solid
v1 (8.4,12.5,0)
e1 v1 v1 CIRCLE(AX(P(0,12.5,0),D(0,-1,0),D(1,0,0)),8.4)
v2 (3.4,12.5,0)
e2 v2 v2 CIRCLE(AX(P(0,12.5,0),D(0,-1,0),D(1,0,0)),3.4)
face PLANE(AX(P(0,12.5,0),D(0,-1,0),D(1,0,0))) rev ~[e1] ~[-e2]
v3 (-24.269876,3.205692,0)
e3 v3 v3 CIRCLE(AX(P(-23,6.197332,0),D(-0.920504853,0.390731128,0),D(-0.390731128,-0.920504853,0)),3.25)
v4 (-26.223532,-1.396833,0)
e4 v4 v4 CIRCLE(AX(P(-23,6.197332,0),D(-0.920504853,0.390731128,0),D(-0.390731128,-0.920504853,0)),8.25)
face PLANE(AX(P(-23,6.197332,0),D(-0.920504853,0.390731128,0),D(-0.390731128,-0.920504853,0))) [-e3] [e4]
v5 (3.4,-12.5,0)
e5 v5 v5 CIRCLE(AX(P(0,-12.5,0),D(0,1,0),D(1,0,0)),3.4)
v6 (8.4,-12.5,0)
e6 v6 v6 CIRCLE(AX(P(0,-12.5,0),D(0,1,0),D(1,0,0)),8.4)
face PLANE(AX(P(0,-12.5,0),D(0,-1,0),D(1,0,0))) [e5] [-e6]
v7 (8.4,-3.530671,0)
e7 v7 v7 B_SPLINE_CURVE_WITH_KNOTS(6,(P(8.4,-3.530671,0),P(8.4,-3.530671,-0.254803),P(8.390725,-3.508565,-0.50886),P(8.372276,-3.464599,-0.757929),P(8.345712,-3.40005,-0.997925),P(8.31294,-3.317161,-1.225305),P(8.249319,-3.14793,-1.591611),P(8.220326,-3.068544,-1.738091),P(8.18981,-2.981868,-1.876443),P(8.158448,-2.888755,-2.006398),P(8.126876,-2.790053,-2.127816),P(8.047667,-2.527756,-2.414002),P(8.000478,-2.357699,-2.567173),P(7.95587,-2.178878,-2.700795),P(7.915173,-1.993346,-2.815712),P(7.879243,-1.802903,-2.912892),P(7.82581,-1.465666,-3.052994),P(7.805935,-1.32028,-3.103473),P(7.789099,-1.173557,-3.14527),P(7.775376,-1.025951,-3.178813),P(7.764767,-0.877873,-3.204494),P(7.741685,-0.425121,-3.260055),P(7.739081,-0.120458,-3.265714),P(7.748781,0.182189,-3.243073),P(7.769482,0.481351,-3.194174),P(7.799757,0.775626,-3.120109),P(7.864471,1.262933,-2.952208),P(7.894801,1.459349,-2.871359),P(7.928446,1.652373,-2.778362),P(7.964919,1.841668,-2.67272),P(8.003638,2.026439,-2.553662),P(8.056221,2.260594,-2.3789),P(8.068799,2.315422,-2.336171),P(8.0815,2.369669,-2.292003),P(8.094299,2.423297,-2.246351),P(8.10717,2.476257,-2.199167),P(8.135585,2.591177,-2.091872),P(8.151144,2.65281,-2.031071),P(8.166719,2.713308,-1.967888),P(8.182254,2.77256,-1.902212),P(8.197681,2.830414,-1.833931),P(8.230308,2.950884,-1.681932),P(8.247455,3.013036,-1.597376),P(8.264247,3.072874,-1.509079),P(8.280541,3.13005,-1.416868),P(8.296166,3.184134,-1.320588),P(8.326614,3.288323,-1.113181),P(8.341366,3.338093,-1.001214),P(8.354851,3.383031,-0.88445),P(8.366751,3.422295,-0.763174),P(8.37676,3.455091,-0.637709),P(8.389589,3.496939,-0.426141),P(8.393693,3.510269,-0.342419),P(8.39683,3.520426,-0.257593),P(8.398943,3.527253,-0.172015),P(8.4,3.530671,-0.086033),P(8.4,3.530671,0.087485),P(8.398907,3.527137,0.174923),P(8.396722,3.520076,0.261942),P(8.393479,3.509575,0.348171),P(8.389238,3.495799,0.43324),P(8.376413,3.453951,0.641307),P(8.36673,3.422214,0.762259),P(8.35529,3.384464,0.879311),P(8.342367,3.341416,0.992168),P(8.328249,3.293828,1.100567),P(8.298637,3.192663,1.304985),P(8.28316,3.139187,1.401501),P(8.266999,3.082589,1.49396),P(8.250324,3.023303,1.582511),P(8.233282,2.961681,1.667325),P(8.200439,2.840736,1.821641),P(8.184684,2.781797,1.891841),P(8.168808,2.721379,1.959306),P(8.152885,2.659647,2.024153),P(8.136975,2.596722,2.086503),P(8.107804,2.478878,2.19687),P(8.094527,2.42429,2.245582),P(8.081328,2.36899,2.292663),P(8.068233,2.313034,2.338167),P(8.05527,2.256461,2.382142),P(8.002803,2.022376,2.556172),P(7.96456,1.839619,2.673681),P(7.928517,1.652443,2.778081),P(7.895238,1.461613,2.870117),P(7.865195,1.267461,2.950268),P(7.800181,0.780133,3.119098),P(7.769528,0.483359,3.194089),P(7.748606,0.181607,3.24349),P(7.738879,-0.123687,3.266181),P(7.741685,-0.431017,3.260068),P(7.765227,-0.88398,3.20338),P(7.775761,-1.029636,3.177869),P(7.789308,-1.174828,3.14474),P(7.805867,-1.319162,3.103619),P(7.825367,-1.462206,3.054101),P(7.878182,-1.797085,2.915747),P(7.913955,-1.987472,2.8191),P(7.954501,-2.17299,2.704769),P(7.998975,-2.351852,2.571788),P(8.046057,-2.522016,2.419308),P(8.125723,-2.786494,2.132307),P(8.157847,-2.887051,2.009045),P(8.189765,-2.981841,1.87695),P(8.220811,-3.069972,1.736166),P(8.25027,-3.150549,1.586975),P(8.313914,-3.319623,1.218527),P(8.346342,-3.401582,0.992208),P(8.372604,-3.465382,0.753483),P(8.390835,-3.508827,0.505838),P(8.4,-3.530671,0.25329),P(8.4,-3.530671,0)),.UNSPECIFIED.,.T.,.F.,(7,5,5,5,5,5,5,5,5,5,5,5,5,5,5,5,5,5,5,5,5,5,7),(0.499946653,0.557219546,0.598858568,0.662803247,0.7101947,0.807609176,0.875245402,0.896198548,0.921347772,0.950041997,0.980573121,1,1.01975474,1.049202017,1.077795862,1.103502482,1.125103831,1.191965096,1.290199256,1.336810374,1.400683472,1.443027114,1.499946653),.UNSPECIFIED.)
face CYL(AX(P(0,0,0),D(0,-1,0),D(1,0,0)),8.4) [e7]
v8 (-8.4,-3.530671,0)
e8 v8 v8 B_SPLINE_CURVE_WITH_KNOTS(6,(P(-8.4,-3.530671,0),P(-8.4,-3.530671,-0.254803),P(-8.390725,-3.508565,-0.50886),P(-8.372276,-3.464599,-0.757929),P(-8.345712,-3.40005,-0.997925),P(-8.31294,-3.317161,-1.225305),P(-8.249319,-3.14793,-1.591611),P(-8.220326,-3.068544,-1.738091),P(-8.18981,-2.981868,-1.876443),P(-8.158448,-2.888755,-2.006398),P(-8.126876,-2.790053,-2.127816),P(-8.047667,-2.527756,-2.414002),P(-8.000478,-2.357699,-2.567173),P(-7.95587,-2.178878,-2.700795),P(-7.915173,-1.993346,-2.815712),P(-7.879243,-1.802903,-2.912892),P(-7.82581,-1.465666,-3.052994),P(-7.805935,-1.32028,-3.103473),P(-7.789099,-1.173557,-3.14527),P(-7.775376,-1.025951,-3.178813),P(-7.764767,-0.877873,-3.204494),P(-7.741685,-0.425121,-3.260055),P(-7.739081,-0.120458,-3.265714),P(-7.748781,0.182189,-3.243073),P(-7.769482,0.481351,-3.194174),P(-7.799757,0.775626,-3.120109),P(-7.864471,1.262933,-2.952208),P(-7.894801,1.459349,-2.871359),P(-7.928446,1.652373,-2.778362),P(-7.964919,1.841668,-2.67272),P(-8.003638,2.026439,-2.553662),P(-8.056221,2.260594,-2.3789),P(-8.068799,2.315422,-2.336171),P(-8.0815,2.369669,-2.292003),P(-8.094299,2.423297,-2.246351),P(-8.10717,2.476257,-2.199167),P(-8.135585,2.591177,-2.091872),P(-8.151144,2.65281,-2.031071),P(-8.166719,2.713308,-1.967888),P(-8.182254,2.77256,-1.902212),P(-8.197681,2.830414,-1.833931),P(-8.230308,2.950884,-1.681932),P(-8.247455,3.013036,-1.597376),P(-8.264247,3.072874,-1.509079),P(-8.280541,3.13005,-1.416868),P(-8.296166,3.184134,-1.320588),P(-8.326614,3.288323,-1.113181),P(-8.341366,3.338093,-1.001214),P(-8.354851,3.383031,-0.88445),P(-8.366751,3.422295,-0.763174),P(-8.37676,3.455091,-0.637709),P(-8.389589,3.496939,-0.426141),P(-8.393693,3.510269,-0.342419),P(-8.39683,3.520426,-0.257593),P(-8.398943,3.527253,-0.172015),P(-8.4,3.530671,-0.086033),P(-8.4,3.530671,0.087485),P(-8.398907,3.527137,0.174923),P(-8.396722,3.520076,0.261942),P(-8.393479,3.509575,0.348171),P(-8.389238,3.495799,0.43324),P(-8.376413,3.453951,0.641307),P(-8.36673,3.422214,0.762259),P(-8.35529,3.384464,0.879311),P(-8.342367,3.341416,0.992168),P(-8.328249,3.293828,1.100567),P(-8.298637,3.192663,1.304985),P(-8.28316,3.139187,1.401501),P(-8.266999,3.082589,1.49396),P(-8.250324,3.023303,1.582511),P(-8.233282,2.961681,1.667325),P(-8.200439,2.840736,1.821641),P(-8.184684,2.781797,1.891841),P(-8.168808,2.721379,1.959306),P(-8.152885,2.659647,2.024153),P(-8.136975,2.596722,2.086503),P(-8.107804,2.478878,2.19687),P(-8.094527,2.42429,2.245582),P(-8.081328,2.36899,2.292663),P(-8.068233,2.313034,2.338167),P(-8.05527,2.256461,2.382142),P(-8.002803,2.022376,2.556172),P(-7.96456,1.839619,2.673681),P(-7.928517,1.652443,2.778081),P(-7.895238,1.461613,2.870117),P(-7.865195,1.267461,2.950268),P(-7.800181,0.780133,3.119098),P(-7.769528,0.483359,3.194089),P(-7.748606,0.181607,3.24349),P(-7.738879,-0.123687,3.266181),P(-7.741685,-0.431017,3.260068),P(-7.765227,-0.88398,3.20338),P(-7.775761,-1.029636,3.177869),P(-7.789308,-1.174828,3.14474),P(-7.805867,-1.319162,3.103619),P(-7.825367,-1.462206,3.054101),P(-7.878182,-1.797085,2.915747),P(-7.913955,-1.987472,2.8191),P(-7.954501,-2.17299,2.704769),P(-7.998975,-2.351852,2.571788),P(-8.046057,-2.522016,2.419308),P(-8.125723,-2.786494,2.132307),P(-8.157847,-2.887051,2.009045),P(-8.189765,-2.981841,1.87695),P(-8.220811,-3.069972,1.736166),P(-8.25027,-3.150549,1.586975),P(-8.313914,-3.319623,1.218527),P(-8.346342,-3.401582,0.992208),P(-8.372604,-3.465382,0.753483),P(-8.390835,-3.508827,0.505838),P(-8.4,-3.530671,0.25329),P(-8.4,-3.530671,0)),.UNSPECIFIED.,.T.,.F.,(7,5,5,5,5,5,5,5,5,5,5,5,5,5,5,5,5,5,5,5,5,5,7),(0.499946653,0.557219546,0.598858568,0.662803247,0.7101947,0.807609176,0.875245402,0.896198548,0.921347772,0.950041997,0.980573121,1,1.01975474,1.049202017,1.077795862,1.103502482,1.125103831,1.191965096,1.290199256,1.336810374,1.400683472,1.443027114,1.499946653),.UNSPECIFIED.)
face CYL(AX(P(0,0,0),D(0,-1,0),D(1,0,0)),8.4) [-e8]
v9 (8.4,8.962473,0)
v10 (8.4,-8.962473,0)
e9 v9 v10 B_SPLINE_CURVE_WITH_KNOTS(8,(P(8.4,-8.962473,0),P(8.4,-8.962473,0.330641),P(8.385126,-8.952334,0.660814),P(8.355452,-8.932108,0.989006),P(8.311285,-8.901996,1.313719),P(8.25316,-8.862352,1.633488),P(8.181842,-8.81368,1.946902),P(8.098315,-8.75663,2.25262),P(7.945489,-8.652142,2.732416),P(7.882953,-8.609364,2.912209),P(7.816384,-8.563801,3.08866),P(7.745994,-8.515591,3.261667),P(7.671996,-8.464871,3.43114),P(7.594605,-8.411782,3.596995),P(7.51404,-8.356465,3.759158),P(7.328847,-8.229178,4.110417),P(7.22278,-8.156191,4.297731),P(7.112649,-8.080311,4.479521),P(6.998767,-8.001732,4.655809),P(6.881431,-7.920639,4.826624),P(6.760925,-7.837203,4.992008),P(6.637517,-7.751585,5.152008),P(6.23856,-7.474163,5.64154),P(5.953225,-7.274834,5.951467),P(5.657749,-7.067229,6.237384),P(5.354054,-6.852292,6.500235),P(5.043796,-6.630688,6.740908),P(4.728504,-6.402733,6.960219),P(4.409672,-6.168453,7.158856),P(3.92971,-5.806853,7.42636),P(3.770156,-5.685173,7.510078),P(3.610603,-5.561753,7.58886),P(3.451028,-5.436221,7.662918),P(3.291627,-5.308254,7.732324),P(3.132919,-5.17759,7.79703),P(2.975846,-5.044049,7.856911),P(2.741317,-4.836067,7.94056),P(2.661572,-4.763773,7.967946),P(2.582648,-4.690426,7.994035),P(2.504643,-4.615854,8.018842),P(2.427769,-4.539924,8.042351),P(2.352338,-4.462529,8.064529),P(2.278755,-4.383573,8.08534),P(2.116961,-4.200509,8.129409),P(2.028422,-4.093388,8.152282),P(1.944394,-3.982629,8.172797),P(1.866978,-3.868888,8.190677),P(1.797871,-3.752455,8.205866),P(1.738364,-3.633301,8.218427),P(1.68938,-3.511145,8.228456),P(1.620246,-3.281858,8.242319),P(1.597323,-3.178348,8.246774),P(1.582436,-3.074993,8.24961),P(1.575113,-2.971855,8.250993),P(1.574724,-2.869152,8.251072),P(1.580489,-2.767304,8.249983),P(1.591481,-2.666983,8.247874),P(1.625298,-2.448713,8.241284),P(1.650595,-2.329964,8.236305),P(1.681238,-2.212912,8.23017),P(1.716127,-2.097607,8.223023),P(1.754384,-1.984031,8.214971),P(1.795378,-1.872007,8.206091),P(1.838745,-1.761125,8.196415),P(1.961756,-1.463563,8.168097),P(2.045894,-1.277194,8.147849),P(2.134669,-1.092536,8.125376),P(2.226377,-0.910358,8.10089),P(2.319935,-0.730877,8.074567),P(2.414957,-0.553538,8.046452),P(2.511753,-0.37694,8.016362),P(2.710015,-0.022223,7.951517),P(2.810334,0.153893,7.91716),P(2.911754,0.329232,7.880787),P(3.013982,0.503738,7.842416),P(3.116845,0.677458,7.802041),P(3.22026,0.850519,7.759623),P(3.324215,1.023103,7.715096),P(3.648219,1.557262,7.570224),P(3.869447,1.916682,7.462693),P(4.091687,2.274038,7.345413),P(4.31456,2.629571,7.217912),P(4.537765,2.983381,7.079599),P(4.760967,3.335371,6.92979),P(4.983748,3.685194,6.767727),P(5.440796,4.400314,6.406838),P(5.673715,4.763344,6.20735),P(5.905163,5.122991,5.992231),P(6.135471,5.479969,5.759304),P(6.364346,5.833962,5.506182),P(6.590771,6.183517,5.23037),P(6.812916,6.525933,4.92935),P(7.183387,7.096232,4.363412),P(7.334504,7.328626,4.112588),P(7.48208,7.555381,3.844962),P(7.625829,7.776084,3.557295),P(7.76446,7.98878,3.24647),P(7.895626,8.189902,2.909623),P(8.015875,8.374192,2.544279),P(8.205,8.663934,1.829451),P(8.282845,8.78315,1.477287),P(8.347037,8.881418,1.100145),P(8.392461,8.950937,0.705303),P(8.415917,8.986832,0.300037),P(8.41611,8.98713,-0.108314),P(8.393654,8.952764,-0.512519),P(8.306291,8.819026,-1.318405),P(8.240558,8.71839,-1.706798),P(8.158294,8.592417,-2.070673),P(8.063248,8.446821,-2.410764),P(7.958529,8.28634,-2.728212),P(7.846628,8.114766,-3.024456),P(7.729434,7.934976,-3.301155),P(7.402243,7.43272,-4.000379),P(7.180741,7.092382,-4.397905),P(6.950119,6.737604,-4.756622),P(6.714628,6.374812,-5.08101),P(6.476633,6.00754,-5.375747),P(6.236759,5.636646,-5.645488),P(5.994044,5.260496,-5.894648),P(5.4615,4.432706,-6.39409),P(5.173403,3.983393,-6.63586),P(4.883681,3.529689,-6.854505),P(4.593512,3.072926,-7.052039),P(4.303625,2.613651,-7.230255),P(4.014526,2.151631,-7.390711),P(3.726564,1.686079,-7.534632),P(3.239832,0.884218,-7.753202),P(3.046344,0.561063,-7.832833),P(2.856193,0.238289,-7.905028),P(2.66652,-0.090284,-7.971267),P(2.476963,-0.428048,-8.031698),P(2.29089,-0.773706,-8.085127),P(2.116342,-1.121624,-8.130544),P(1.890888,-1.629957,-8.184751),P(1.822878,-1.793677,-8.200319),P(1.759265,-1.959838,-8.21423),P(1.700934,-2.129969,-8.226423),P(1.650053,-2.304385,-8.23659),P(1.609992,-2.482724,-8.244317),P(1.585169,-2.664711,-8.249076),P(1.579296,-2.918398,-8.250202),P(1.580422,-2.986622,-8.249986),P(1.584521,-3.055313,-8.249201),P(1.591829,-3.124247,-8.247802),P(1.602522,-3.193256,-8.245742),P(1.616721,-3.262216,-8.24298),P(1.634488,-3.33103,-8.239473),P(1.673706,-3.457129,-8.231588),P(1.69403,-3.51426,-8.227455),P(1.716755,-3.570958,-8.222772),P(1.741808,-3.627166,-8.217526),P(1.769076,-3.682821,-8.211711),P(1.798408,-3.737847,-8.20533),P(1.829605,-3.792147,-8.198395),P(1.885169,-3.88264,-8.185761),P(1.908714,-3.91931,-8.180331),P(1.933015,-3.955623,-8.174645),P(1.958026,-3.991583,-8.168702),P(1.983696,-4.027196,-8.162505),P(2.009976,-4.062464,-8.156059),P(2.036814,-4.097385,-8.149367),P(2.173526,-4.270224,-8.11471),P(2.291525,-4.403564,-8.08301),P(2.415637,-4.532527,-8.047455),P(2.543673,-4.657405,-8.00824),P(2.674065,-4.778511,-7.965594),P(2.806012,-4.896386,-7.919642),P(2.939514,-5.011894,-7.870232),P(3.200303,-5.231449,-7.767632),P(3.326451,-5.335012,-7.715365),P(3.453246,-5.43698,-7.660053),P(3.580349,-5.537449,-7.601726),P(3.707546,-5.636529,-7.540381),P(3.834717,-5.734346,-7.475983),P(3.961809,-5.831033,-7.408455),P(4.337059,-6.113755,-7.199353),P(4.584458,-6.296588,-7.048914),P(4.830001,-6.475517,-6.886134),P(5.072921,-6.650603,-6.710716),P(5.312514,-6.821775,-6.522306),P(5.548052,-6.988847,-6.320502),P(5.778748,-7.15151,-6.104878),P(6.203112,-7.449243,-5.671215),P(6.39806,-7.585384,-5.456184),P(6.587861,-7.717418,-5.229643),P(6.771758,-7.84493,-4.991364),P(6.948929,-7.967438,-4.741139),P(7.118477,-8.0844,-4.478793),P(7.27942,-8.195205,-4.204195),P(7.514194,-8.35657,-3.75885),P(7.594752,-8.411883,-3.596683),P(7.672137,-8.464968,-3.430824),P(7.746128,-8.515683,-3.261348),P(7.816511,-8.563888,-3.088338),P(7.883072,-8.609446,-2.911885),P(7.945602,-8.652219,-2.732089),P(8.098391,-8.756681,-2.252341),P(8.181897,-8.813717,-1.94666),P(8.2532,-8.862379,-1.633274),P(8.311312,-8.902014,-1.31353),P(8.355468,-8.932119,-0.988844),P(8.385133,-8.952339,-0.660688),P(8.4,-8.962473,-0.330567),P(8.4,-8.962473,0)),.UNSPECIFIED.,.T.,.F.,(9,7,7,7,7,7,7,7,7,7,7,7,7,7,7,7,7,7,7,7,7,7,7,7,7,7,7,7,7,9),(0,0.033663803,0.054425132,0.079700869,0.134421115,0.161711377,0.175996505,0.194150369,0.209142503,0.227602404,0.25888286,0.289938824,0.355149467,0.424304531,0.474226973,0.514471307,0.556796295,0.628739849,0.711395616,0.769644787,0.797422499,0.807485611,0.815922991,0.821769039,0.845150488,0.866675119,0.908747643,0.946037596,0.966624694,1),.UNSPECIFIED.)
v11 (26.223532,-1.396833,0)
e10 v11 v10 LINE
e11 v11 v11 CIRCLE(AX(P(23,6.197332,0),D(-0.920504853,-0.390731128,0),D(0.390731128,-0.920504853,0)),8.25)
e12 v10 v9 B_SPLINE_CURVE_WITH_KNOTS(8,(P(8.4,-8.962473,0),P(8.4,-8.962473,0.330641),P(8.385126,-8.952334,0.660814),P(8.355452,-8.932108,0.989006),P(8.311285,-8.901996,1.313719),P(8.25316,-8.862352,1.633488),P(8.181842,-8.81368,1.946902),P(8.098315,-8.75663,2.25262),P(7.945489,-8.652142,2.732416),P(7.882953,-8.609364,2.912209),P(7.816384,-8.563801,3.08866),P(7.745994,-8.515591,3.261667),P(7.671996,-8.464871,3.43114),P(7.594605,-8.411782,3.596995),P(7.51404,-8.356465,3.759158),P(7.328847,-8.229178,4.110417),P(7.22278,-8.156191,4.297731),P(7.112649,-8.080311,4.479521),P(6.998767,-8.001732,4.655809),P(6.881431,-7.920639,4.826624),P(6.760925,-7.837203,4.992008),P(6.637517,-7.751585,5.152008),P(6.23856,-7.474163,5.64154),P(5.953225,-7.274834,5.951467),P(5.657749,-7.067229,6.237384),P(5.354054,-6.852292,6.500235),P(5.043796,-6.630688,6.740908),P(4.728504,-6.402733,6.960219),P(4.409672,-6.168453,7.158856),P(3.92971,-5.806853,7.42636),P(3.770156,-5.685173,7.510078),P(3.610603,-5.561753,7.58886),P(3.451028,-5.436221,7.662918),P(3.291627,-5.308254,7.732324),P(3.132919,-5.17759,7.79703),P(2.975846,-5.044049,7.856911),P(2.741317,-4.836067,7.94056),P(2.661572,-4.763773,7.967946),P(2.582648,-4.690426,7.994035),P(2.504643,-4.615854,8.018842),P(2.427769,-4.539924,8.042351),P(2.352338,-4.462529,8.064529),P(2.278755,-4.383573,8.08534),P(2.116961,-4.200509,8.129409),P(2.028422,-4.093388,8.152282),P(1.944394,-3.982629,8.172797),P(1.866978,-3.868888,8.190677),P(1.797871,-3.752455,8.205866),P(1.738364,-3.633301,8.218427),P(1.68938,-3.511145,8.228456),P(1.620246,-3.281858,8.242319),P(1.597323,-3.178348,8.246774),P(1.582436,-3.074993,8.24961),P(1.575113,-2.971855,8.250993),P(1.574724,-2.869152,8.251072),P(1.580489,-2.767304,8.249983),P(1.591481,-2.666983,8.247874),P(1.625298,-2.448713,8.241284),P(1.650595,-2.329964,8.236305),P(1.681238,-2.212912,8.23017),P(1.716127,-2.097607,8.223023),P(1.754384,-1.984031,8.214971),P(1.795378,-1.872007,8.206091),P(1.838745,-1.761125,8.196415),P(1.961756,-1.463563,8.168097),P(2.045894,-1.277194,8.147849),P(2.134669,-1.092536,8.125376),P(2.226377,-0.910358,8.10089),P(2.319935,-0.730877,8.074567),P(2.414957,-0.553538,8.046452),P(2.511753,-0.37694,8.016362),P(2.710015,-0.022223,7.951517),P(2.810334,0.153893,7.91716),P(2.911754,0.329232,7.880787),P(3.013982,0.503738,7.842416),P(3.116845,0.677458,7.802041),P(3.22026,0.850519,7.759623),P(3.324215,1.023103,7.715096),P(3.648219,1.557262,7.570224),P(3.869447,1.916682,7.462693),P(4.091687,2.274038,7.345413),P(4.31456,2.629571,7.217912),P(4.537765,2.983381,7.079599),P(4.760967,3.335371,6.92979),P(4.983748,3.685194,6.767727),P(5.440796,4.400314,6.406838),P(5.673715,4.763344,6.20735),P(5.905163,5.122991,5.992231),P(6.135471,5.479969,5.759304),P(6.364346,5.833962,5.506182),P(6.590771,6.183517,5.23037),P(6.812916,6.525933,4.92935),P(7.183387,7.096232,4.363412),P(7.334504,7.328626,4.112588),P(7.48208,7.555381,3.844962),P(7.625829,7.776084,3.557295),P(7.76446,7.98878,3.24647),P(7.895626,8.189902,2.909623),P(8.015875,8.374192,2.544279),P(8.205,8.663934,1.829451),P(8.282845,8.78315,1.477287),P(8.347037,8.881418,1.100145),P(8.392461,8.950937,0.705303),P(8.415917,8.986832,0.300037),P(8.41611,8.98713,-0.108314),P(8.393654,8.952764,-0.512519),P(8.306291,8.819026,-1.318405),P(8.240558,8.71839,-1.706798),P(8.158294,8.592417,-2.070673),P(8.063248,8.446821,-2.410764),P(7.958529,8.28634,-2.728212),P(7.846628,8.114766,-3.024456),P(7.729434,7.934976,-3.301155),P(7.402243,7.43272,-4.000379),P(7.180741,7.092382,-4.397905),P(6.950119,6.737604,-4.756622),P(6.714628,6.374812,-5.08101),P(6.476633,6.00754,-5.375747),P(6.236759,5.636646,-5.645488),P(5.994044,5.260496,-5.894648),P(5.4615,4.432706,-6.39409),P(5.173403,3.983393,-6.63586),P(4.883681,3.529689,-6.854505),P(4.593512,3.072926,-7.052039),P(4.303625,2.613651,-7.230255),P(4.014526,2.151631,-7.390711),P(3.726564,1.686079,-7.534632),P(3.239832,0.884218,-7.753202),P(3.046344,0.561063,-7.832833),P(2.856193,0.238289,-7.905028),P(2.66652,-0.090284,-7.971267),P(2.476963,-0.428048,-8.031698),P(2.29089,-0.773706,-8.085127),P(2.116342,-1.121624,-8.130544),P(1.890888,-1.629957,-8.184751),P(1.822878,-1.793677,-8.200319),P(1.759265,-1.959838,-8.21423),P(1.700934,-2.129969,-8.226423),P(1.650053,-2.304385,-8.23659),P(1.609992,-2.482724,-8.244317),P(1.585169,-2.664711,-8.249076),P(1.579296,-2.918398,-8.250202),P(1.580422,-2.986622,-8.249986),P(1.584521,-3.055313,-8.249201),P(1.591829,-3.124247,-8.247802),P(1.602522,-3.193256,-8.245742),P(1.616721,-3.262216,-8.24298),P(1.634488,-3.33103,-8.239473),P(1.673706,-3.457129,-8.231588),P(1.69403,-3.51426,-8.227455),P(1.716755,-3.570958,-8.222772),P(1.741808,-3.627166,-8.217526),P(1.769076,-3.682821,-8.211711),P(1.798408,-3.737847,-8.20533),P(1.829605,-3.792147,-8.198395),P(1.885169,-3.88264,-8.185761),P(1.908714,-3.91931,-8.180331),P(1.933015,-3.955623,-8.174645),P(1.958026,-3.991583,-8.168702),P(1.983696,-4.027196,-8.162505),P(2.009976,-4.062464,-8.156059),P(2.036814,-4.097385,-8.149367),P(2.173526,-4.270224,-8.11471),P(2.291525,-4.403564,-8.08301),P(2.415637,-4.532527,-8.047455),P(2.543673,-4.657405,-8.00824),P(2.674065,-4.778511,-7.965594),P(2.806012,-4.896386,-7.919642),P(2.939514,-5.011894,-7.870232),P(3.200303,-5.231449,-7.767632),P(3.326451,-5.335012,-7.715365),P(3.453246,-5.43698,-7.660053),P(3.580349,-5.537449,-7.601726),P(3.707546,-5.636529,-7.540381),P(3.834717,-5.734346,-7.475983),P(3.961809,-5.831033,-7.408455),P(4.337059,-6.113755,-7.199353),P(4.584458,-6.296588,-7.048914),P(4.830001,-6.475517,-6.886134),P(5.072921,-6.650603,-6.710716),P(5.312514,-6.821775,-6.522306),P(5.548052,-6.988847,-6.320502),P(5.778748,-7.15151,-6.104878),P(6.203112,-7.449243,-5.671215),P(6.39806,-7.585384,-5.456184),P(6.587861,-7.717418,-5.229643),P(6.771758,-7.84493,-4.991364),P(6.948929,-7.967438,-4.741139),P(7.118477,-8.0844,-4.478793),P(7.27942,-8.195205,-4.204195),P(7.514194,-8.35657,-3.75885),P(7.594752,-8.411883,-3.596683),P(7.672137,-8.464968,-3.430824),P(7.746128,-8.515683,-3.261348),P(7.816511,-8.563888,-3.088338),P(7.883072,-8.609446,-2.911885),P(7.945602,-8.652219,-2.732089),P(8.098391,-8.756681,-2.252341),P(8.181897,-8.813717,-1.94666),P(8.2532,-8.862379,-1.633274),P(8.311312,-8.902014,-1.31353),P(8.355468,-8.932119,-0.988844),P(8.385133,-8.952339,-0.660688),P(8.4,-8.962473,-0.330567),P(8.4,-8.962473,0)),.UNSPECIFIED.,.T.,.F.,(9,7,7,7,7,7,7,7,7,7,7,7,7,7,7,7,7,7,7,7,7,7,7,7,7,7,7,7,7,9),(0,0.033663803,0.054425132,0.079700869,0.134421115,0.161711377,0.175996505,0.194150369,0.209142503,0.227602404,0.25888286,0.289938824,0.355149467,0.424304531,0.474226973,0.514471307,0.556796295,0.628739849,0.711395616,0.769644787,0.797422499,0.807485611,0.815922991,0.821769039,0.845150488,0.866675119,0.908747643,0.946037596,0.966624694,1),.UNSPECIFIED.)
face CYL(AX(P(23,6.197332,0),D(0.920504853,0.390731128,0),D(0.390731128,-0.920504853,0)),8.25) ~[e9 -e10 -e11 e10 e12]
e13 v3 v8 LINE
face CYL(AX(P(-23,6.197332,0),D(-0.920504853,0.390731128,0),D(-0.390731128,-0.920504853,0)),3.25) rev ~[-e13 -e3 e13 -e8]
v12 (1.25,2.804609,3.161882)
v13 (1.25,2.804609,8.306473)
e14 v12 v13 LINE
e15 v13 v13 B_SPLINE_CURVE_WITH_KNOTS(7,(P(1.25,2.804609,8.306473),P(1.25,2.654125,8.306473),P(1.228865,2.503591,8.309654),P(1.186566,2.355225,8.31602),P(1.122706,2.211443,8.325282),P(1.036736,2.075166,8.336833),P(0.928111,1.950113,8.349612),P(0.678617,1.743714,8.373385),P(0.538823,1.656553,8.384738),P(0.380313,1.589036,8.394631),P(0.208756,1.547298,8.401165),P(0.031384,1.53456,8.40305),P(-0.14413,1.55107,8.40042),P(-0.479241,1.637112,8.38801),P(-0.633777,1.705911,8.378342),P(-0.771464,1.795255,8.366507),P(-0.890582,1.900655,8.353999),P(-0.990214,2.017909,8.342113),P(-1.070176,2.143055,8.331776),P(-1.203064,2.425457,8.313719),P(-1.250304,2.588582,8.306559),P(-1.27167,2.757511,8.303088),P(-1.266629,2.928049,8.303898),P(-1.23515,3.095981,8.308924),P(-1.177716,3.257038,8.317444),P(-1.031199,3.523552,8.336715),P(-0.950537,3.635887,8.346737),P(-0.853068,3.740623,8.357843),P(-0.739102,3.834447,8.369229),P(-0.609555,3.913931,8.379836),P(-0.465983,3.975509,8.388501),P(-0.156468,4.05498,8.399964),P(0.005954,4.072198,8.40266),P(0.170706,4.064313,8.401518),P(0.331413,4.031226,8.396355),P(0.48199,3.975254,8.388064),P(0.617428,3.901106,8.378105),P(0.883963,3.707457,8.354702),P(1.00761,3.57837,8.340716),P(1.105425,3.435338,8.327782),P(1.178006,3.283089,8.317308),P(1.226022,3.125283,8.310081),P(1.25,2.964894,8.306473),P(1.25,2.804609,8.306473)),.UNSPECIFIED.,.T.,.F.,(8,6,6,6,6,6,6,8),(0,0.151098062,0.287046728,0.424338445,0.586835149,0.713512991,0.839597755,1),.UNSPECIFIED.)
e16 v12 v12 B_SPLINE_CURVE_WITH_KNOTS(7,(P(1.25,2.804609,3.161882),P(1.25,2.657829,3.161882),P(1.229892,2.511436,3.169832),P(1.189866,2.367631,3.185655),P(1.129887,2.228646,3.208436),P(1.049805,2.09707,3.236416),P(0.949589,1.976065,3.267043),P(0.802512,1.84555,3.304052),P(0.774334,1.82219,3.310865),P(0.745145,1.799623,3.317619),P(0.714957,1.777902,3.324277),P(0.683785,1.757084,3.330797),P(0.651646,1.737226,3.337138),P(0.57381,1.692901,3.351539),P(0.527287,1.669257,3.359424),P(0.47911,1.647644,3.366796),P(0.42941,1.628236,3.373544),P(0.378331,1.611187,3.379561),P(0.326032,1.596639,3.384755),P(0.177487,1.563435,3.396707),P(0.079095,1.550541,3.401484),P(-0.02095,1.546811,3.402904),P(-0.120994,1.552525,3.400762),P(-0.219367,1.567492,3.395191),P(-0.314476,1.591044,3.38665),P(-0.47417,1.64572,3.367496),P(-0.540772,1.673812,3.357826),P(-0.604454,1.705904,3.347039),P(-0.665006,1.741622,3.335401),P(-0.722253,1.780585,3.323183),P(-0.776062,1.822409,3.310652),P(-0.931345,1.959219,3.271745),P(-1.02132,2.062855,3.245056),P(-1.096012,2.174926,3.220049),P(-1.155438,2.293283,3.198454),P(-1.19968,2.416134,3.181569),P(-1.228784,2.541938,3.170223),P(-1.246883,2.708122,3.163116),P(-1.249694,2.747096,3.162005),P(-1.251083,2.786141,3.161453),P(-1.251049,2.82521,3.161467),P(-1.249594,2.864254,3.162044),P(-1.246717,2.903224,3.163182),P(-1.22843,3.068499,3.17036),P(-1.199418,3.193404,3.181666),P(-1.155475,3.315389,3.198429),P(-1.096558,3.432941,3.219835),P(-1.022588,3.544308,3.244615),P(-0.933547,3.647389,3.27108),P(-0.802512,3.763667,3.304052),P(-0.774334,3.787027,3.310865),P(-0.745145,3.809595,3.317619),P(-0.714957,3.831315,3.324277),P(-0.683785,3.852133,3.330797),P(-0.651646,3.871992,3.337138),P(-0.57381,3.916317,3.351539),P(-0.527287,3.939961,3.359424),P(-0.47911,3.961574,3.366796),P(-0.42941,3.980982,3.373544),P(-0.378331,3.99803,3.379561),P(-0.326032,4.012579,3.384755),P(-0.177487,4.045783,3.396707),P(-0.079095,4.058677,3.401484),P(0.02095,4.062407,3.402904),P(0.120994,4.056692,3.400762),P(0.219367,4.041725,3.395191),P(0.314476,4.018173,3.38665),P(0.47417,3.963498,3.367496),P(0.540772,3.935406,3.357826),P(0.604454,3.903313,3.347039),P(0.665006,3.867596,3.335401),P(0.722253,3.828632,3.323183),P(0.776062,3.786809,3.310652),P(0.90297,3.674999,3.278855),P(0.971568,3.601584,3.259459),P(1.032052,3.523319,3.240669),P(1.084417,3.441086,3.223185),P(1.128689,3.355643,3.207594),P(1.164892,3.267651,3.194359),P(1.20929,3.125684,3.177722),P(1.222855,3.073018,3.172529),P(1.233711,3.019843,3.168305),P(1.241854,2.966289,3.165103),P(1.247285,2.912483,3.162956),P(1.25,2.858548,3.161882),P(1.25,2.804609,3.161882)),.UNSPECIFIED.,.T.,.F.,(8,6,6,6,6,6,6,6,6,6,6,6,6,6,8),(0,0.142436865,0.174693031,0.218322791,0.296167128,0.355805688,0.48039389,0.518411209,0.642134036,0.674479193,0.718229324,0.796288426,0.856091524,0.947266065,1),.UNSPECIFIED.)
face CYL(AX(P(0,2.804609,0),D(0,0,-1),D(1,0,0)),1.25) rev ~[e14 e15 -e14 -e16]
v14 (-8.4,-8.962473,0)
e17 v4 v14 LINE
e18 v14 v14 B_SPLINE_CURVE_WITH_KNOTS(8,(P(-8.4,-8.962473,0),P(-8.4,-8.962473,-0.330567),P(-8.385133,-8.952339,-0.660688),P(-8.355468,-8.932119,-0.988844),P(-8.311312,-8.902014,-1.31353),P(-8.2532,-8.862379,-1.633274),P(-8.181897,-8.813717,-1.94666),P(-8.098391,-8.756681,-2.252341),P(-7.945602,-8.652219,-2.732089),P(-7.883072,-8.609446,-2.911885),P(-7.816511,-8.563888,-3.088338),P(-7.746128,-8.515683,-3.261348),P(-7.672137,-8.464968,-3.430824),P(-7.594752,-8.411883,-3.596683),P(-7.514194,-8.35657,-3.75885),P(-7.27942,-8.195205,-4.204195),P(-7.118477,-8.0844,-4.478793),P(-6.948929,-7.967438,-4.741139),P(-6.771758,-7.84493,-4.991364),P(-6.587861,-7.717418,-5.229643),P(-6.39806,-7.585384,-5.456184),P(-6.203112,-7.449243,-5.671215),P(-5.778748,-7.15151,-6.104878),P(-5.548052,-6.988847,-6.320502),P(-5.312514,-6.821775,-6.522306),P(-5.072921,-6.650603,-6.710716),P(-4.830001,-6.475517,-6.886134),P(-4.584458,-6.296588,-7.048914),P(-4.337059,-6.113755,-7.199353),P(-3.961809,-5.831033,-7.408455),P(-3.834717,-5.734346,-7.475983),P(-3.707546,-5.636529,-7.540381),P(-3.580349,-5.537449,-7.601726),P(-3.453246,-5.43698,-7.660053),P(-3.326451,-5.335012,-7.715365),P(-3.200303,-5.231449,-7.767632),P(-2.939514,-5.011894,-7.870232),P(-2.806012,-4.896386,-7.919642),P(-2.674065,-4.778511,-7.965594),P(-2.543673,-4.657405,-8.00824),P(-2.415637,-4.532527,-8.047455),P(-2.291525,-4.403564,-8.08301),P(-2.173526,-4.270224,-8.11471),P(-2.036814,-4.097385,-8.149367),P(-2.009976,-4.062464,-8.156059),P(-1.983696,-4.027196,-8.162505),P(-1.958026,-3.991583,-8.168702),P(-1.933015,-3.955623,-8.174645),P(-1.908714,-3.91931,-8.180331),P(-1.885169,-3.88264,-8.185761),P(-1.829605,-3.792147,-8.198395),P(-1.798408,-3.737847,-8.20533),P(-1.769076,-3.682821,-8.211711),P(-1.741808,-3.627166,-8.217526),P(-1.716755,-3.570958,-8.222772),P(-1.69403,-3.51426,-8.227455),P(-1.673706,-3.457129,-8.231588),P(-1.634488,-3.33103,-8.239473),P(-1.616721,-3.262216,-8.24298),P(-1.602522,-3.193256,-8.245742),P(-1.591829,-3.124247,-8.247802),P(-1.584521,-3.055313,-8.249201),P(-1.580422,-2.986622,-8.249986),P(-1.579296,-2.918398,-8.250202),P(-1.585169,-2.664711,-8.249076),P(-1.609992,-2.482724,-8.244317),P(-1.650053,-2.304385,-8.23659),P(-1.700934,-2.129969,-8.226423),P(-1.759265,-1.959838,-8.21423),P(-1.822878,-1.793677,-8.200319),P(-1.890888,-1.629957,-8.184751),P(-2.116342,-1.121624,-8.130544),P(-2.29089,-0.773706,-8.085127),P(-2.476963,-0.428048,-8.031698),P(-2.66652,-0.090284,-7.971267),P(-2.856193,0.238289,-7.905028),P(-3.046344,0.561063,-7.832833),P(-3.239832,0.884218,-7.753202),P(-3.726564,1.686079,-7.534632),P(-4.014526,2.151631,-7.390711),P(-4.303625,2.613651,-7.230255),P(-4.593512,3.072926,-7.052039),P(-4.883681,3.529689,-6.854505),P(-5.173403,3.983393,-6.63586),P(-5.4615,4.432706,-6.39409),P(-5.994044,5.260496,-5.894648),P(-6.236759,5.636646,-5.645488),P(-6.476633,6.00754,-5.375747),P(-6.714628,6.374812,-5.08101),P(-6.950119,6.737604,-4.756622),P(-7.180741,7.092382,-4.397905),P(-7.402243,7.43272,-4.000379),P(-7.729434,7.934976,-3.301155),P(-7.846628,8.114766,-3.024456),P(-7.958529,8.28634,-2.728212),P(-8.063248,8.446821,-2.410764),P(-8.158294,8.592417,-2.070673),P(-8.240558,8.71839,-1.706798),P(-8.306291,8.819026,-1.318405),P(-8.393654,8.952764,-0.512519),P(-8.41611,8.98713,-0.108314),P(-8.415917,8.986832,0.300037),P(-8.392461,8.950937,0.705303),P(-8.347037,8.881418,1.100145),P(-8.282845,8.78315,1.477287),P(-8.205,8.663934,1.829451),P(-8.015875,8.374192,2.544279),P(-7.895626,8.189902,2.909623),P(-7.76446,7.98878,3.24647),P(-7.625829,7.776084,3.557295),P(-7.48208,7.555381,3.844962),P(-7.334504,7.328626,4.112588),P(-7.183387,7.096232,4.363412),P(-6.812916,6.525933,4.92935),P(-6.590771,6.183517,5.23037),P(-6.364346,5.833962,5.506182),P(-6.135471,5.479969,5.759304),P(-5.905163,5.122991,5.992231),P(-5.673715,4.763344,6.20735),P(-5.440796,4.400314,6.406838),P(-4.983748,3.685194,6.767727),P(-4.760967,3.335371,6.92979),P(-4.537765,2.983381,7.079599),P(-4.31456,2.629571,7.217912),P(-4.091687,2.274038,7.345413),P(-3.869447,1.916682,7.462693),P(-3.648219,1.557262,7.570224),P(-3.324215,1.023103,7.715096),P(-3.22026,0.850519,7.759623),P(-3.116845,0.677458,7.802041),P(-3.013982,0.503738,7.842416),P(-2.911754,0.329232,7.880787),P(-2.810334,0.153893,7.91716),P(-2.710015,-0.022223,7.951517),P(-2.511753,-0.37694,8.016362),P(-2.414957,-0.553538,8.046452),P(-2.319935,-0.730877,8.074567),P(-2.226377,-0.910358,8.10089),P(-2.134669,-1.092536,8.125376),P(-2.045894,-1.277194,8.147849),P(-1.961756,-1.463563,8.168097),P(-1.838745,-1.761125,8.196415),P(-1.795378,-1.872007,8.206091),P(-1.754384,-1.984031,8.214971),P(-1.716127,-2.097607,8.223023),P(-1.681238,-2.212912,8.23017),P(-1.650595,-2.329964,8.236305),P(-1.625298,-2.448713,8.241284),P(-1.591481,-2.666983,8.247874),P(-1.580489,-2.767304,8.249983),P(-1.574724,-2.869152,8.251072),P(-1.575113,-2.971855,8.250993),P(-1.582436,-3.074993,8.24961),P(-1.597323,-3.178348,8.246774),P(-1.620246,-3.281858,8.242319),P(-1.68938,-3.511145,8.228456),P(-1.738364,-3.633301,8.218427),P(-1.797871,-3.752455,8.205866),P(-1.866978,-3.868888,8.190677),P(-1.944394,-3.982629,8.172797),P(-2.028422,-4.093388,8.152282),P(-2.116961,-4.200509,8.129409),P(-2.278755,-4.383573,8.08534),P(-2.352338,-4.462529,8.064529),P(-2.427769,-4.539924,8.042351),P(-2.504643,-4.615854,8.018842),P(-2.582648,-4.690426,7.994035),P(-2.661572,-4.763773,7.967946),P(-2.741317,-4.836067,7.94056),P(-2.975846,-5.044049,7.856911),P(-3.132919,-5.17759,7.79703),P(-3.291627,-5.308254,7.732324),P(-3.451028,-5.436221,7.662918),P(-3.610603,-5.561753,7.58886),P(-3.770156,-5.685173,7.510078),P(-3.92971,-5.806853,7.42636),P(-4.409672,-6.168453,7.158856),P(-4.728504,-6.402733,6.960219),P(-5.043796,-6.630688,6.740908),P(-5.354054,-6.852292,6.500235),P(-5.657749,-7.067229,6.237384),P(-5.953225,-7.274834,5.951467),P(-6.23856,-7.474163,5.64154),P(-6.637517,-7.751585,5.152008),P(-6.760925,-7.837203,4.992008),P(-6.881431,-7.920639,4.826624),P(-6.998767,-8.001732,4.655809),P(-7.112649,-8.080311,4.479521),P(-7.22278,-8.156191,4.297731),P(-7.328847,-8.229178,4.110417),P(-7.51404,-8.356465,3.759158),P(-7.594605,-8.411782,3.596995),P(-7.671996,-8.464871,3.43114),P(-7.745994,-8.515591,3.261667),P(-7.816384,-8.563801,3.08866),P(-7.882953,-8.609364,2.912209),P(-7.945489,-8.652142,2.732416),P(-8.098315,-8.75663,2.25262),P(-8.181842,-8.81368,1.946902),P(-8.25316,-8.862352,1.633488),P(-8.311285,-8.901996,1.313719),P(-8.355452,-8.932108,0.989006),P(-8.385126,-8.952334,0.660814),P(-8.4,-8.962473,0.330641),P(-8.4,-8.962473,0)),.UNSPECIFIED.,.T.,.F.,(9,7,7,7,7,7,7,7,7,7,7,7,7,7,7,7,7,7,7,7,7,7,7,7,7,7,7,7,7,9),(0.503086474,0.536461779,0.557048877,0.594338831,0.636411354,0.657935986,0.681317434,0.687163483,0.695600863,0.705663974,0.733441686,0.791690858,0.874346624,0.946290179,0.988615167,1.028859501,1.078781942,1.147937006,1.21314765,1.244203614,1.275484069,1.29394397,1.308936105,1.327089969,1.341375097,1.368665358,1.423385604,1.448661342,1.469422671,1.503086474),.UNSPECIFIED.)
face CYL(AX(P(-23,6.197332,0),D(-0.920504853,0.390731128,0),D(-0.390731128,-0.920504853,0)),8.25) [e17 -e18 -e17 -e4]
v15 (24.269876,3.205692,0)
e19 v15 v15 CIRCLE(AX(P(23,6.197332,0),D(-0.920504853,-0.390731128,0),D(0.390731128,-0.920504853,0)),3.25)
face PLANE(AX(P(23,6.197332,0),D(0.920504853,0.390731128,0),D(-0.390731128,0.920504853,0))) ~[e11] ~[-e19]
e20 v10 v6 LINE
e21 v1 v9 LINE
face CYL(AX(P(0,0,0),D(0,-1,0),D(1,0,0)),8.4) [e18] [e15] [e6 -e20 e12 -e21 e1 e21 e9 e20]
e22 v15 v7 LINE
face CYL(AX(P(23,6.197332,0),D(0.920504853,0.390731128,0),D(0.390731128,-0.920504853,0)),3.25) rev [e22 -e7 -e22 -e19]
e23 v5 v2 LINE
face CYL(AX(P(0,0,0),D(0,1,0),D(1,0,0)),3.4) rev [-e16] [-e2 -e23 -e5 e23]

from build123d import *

# Parameters (mm, degrees)
F0_R     = 8.4
F0_R_2   = 3.4
F1_DEPTH = 12.5
F4_R     = 8.25
F4_R_2   = 3.25
F8_D     = 2.5
F8_DEPTH = 101
F8_TIP   = 0.7510757738


with BuildPart() as f1:
    # F0 (on Front) → F1 (new body, symmetric)
    with BuildSketch(Plane.XZ):
        Circle(F0_R)
        Circle(F0_R_2, mode=Mode.SUBTRACT)
    extrude(amount=F1_DEPTH, both=True)

    # F4 (on face) → F5 (join, up to the next surface of F1)
    with BuildSketch(Plane(origin=(-21.7175651559, 9.2185594781, 0), x_dir=(-0.3907311285, -0.9205048535, 0), z_dir=(-0.9205048535, 0.3907311285, 0))):
        with Locations((3.2821414793, 0)):
            Circle(F4_R)
        with Locations((3.2821414793, 0)):
            Circle(F4_R_2, mode=Mode.SUBTRACT)
    extrude(until=Until.NEXT, dir=(0.9205048535, -0.3907311285, 0))

    # F6: F1 across plane


with BuildPart() as f1_1:
    add(f1.part)
    add(f1.part.mirror(Plane.YZ))

    # F8 (one way)
    with BuildSketch(Plane(origin=(0, 0, 0), x_dir=(1, 0, 0), z_dir=(0, 0, -1))):
        with Locations((0, -2.8046087828)):
            Circle(F8_D / 2)
    extrude(amount=-F8_DEPTH, mode=Mode.SUBTRACT)
    with Locations(Plane(origin=(0, 0, 0), x_dir=(1, 0, 0), z_dir=(0, 0, -1))):
        with Locations((0, -2.8046087828)):
            with Locations((0, 0, -(F8_DEPTH + F8_TIP / 2))):  # 118° drill point
                Cone(0, F8_D / 2, F8_TIP, mode=Mode.SUBTRACT)


solid = f1_1.part
